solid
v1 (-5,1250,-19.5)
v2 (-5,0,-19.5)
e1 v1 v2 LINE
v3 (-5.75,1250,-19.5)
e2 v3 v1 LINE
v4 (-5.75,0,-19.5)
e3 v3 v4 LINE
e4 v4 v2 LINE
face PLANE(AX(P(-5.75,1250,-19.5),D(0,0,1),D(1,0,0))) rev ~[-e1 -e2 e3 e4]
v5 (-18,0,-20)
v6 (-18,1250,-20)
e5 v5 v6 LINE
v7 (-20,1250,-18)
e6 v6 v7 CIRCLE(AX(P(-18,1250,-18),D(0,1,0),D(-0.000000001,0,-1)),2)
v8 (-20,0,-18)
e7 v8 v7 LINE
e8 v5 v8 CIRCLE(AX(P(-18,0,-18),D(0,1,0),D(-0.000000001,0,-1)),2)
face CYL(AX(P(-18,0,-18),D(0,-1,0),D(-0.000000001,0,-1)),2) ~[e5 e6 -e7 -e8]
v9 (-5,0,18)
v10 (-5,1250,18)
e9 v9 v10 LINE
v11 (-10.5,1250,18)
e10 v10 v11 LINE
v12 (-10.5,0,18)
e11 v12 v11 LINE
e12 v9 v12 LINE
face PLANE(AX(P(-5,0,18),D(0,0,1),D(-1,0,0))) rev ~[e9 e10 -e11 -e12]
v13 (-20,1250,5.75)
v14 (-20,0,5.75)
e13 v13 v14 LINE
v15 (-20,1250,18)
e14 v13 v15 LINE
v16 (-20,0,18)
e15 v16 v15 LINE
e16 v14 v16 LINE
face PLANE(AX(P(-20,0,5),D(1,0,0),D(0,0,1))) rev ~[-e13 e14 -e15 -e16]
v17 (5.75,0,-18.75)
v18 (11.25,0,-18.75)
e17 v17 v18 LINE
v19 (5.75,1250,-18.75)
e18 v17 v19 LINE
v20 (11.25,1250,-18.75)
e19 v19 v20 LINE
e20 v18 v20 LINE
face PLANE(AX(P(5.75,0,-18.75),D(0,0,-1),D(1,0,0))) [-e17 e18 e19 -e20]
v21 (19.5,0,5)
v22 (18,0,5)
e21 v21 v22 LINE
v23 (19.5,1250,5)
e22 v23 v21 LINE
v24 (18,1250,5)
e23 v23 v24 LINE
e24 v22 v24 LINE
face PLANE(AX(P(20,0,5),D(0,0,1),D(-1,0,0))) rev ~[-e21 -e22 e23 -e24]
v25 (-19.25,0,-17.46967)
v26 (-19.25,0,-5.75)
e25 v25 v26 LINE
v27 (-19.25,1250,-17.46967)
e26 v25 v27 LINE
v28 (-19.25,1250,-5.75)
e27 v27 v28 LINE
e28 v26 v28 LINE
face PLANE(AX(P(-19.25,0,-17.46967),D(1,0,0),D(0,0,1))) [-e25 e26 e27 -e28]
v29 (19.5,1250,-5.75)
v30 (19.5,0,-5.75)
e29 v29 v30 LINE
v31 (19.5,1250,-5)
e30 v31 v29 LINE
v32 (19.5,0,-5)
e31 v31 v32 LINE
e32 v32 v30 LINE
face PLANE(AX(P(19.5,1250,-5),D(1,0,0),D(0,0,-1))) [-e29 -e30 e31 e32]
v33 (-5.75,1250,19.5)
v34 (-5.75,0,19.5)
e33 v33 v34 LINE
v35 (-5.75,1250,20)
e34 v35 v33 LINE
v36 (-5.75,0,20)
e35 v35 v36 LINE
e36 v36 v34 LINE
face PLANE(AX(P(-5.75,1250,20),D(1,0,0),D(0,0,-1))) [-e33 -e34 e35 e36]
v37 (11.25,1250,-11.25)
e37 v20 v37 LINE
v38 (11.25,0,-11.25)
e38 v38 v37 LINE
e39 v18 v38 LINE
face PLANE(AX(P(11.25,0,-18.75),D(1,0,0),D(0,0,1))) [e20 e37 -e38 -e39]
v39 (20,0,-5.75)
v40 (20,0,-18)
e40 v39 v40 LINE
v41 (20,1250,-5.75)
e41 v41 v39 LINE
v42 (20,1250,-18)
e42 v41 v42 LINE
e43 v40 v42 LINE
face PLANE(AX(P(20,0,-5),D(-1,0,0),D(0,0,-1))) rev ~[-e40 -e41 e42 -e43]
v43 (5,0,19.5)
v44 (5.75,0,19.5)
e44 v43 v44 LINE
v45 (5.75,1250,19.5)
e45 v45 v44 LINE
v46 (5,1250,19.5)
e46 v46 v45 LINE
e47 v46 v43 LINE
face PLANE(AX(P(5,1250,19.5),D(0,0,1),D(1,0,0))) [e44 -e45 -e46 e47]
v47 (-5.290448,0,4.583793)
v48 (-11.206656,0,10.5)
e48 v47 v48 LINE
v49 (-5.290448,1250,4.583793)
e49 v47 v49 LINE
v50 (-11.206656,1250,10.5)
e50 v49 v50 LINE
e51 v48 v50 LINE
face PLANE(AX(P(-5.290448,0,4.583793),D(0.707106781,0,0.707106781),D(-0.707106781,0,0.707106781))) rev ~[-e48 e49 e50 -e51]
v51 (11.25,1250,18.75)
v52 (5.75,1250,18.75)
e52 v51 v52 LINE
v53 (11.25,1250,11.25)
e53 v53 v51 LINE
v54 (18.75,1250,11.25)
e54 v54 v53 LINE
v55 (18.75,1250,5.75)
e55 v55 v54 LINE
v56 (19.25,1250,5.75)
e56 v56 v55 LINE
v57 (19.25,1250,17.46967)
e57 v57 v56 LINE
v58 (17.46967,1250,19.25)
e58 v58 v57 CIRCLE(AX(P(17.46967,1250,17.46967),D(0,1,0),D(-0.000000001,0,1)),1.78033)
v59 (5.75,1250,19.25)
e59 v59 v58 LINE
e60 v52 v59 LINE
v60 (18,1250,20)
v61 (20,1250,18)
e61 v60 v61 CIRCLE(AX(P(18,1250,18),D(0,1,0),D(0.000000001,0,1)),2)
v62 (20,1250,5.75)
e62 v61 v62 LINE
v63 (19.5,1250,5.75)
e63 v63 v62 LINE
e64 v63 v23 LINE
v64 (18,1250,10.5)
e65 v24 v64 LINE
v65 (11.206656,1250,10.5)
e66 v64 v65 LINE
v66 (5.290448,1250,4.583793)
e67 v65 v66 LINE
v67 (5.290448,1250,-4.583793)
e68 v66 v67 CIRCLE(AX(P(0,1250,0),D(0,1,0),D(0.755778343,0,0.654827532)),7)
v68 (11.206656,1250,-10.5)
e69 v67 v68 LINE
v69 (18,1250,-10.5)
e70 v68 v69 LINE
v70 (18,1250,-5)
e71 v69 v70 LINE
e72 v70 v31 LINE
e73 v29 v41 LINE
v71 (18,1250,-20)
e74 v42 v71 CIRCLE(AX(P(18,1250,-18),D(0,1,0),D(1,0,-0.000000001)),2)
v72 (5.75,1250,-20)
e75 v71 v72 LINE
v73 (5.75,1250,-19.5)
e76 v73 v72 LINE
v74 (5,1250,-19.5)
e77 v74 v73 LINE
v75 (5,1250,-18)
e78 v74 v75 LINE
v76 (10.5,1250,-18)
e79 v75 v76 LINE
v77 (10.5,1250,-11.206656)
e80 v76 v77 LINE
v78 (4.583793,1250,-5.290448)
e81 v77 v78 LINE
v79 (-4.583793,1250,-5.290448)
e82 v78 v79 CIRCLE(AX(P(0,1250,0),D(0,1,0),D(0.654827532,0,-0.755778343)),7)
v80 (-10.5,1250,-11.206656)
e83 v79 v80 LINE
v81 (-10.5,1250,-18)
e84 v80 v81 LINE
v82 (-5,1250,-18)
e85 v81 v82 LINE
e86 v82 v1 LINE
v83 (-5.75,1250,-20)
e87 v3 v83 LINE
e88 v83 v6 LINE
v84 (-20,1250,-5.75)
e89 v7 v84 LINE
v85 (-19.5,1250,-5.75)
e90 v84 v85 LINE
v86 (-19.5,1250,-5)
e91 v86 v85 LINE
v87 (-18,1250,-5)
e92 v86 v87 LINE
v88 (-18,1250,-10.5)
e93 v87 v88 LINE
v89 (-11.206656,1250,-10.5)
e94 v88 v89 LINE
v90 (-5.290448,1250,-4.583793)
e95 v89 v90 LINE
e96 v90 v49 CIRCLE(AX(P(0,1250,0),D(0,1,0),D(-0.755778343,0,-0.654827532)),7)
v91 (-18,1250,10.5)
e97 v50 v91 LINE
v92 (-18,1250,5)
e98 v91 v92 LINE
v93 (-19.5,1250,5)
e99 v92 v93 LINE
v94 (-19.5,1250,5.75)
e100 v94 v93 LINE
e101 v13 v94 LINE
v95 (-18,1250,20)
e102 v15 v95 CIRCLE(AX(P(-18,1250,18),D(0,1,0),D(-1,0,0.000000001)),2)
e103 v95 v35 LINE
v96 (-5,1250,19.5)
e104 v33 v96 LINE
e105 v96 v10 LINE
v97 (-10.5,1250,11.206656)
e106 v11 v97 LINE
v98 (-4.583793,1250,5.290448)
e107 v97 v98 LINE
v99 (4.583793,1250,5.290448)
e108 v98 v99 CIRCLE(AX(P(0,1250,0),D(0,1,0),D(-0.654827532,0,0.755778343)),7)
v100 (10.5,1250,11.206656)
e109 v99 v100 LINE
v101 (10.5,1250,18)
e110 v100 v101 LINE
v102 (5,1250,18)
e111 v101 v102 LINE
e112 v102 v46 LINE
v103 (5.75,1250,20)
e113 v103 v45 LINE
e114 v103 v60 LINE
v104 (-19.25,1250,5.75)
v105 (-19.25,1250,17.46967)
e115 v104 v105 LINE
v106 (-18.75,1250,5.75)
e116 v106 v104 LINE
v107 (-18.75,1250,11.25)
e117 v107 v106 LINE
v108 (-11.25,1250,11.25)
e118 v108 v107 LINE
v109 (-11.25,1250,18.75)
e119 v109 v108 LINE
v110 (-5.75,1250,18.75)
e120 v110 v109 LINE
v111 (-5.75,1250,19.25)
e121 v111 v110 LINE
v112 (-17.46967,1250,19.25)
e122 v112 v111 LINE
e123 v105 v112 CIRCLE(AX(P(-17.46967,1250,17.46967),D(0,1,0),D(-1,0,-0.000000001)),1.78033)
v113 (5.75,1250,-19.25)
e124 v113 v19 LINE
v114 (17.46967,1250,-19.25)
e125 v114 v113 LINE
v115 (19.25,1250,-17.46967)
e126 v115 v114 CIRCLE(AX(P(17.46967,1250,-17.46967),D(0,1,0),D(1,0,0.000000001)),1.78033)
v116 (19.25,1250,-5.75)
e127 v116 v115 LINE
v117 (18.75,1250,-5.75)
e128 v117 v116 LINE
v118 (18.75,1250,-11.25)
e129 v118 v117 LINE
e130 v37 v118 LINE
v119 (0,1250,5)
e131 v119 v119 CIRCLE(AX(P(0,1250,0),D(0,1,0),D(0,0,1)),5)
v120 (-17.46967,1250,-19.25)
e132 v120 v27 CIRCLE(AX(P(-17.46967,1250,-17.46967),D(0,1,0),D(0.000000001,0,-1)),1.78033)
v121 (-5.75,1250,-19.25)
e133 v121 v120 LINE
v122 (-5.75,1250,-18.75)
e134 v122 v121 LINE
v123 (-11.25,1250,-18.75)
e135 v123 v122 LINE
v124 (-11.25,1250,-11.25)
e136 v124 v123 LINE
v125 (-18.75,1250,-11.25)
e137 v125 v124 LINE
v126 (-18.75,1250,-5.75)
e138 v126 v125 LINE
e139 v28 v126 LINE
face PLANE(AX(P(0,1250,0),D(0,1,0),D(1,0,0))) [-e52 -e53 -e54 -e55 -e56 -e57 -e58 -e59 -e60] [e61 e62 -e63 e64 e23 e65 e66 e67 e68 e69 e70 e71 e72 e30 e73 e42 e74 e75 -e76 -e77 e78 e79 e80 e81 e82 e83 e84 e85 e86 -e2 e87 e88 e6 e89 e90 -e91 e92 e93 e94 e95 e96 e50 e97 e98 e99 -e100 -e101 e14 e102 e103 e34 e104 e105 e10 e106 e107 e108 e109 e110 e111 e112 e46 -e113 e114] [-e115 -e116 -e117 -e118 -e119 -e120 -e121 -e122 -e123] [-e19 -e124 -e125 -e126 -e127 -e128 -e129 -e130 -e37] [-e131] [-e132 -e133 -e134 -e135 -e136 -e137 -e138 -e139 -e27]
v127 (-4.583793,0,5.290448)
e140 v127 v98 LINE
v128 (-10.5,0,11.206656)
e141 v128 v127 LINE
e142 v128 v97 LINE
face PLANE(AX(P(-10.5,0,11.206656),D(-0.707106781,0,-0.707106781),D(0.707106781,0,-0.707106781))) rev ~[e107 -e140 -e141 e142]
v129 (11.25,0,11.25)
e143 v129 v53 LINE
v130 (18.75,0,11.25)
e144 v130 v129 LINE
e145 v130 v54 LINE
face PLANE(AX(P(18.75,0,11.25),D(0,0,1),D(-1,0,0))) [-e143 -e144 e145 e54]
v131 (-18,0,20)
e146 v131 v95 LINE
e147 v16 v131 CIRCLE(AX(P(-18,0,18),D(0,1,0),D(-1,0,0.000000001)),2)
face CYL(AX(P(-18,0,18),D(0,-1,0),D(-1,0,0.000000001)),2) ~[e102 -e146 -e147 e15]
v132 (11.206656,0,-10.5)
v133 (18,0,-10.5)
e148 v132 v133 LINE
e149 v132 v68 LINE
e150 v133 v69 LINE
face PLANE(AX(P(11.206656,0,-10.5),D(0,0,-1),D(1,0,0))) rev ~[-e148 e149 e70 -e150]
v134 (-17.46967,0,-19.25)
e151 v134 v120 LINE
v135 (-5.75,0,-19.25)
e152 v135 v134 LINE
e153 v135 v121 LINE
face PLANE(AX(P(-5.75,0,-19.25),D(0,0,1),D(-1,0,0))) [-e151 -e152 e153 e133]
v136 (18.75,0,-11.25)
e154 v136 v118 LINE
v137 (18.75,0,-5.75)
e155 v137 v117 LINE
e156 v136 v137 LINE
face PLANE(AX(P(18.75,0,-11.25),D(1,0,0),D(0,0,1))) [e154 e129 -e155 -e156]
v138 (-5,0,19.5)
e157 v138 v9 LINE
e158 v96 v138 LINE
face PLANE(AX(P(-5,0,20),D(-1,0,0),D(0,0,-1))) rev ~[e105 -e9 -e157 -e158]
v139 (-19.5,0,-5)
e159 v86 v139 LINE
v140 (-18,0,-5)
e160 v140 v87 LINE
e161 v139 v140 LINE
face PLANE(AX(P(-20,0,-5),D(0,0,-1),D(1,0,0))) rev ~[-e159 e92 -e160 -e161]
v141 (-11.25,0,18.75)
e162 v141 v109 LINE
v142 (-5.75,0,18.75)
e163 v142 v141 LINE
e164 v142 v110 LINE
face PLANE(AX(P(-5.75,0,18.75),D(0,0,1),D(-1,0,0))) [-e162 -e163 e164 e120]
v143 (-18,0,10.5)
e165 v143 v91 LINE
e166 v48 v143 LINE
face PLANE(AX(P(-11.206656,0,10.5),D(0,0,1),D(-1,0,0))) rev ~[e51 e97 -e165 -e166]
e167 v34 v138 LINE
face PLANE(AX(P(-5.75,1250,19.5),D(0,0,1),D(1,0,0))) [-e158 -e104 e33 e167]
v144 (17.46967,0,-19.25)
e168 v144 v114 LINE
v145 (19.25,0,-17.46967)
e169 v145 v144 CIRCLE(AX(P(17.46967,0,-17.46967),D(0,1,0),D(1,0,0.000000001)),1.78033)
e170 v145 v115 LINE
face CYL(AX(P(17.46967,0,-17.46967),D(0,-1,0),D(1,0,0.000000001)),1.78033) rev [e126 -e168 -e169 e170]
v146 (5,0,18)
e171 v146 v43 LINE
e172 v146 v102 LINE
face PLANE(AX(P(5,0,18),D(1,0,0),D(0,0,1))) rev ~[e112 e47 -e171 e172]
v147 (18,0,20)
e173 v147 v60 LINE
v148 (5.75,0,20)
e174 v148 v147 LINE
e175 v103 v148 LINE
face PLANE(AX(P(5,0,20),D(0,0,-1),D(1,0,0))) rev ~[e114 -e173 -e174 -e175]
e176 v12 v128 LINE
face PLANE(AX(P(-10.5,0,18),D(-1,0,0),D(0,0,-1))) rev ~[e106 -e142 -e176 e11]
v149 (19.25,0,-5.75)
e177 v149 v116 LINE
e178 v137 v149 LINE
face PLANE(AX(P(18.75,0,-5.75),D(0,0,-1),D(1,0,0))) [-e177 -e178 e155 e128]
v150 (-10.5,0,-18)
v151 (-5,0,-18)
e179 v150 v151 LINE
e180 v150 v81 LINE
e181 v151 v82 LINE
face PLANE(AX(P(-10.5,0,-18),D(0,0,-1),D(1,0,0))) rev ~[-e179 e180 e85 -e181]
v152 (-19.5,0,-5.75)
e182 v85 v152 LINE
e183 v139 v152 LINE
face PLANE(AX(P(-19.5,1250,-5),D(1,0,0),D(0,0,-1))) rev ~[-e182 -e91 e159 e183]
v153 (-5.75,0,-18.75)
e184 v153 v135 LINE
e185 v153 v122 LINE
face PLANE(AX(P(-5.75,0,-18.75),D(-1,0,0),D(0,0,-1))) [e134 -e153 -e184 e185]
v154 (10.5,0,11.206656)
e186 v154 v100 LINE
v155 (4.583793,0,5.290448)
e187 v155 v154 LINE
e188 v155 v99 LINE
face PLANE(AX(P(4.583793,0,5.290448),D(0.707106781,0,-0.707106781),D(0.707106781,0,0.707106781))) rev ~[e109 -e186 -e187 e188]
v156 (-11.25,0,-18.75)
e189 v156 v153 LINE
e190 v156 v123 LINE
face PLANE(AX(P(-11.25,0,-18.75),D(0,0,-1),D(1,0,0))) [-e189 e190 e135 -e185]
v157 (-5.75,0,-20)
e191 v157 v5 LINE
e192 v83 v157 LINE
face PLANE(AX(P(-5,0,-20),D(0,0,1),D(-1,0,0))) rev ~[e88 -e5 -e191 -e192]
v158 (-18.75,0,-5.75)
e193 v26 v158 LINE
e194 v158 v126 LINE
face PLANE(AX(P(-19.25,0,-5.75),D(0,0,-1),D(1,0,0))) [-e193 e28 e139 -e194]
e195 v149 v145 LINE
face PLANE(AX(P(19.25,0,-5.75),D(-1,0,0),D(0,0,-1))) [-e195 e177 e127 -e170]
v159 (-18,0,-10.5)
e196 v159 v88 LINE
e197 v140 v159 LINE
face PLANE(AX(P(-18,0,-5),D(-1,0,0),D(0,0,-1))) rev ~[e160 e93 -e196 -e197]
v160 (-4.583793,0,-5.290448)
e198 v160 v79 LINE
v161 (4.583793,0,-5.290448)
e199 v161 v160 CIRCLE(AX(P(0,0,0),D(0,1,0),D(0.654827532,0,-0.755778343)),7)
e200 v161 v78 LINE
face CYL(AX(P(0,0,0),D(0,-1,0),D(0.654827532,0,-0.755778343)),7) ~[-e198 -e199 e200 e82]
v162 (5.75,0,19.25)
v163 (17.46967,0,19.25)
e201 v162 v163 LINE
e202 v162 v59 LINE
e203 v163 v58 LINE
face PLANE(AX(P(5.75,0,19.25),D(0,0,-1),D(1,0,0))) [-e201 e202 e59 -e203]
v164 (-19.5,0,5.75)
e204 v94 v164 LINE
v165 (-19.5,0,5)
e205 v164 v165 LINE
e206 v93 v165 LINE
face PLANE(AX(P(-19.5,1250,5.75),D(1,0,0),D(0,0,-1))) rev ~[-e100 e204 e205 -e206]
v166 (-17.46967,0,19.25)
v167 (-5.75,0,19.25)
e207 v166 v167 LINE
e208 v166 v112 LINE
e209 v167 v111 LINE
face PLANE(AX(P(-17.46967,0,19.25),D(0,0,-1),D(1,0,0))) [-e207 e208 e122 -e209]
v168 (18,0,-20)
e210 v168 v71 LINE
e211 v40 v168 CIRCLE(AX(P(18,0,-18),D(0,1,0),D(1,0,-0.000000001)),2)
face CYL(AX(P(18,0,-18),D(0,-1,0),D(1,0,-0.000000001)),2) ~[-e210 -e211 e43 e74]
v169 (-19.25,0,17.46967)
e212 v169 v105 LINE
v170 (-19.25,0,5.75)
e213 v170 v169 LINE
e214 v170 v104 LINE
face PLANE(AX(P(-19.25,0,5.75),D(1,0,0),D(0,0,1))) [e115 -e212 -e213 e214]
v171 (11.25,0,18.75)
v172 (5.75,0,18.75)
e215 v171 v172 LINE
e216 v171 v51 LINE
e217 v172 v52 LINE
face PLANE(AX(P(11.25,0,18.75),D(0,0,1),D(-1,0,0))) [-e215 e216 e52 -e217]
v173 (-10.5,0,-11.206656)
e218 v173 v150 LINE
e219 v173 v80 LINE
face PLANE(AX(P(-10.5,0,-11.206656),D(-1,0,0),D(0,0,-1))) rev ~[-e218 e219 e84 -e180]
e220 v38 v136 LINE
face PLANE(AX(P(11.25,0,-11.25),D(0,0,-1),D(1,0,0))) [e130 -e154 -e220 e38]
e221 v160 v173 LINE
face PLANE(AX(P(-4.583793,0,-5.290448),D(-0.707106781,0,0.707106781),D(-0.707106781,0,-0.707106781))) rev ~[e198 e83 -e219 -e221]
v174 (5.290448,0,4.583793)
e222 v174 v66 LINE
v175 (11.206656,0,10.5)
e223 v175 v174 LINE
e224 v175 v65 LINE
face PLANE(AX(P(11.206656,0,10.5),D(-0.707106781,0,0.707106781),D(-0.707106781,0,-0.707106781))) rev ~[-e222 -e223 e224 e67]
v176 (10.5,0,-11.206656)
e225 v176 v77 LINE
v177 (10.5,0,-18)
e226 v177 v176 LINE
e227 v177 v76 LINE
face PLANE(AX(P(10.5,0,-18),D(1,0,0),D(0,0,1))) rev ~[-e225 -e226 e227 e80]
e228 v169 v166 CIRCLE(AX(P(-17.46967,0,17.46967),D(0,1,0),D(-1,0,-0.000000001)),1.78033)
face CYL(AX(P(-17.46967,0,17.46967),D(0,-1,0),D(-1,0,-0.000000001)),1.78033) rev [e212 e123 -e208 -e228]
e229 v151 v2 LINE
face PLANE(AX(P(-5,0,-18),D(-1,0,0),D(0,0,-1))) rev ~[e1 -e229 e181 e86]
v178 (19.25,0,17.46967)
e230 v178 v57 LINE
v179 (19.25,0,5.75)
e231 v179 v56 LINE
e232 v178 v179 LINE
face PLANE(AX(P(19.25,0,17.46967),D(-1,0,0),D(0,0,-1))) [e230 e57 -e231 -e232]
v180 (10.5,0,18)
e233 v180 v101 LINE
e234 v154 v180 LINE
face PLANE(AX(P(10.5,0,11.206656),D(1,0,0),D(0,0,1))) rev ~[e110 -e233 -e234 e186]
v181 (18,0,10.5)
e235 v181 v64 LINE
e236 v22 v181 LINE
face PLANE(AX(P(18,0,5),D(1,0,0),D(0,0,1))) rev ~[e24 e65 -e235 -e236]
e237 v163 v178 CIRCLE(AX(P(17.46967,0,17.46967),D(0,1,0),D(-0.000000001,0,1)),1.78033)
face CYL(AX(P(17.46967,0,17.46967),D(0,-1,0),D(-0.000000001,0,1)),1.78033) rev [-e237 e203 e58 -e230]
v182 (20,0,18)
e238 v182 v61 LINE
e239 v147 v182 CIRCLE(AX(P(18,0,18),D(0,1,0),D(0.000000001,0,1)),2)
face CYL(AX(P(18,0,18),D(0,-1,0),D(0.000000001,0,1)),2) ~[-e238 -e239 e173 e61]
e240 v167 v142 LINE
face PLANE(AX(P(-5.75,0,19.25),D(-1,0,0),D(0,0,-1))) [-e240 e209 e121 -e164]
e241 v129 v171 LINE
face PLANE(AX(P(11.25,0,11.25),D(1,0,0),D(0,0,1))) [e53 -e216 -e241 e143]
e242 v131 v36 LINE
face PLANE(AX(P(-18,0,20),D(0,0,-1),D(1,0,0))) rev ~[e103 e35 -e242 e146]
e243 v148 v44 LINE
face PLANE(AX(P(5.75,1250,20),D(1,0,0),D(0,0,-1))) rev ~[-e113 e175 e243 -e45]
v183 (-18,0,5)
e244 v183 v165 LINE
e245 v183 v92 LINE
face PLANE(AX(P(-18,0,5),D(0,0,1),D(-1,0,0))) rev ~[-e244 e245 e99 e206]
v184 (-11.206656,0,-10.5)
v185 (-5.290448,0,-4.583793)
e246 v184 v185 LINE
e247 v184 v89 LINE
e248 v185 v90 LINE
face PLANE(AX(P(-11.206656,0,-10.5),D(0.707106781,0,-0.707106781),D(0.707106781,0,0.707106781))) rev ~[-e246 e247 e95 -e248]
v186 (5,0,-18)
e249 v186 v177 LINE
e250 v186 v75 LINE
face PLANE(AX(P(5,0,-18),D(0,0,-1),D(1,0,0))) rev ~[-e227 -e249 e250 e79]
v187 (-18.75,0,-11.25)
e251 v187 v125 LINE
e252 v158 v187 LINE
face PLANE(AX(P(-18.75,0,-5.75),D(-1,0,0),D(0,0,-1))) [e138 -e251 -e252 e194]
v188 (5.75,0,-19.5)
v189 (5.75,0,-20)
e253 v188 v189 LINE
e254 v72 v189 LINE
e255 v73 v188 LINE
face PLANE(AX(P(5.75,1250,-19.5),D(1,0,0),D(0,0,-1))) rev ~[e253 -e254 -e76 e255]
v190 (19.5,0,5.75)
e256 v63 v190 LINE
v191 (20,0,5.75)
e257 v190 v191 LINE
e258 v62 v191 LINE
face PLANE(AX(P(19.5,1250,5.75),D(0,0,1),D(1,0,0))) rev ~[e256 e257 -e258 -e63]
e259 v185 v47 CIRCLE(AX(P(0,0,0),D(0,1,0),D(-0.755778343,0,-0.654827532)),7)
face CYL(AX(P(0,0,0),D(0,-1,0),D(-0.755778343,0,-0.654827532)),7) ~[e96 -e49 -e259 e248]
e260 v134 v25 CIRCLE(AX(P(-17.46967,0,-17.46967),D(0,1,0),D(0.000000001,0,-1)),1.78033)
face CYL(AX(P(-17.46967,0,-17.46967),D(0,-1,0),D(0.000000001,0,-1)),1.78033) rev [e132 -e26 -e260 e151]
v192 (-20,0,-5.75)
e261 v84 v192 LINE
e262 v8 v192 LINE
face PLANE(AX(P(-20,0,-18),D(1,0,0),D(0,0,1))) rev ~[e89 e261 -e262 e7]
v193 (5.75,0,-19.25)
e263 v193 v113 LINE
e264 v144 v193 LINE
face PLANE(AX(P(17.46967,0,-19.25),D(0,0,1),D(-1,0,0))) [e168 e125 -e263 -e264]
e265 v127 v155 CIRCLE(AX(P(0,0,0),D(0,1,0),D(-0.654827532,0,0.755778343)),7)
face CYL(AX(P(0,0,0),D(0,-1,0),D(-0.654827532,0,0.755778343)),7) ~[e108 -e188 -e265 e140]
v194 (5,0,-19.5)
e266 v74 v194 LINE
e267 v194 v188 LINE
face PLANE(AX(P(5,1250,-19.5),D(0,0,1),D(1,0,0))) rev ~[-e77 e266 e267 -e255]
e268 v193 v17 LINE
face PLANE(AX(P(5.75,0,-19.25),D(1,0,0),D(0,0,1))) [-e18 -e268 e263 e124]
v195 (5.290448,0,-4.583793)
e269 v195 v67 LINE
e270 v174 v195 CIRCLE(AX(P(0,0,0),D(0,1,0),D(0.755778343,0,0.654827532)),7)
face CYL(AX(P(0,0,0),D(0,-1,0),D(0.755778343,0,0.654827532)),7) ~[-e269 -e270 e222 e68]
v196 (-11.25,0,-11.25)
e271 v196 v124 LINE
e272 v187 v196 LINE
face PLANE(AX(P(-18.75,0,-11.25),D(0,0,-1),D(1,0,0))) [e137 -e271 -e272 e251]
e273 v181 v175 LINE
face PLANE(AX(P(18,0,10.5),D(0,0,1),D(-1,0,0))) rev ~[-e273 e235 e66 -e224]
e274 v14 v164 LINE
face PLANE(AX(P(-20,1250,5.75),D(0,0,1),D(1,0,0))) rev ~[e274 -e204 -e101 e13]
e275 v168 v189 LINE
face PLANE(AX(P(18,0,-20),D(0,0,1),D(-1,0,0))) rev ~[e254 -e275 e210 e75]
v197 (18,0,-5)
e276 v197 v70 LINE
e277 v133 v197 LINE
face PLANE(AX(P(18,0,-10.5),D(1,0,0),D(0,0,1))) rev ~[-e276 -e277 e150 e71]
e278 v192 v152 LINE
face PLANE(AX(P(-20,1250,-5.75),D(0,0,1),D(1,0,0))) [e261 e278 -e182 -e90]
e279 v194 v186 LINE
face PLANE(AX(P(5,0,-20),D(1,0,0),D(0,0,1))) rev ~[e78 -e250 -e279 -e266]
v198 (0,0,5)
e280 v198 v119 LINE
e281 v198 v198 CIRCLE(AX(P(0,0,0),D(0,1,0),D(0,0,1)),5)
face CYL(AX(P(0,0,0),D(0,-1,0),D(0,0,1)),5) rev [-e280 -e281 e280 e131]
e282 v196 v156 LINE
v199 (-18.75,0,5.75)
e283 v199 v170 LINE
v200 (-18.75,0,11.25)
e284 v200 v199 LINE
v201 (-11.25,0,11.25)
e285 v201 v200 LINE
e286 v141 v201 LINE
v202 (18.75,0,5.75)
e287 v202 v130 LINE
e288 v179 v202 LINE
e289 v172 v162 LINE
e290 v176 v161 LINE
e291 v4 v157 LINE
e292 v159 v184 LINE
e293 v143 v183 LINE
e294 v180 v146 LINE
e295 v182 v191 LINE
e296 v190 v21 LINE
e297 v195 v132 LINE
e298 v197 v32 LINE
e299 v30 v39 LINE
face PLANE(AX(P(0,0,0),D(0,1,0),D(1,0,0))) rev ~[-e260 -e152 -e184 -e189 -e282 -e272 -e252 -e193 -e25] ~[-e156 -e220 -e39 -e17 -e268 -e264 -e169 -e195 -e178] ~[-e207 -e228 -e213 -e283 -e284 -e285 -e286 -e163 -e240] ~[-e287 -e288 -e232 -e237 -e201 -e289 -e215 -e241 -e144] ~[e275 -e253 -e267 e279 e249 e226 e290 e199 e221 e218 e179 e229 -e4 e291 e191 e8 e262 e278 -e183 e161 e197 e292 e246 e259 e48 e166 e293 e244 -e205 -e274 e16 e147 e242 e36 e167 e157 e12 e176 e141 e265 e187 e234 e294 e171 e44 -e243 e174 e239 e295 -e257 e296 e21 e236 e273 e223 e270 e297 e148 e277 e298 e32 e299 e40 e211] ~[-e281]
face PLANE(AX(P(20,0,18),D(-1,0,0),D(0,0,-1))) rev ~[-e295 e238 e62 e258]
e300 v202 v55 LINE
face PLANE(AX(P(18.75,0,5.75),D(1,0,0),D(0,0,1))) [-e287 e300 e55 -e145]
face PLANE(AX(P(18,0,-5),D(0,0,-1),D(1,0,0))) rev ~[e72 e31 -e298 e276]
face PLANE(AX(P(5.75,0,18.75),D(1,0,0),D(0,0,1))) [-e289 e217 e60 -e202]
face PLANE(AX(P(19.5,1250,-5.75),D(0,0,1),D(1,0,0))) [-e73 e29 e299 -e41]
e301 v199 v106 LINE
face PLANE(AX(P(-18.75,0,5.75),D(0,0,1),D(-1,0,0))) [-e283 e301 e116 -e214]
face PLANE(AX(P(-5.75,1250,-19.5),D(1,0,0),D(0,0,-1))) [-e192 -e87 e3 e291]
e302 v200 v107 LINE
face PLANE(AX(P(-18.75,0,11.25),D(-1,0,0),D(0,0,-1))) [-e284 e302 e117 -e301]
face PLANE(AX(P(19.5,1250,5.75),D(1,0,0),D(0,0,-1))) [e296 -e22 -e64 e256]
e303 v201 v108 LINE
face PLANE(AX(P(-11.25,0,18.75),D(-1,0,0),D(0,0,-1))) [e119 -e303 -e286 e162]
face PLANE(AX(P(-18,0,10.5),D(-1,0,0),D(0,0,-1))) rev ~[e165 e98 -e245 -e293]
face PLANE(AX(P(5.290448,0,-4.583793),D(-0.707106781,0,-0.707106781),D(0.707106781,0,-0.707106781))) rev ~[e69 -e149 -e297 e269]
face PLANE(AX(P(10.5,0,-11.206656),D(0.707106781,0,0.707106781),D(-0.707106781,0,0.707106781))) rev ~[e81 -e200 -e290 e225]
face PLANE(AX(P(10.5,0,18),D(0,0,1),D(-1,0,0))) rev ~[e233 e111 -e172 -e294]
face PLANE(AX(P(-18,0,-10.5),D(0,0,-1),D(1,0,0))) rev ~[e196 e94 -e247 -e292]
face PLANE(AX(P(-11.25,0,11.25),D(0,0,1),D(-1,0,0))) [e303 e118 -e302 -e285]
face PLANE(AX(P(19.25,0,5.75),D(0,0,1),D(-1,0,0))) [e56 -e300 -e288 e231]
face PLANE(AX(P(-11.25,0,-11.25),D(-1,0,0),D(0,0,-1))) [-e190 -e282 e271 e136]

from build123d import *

# Parameters (mm, degrees)
ESBO_O1_R                = 5
RESSALTO_EXTRUS_O1_DEPTH = 1250
ESBO_O4_W                = 0.75
ESBO_O4_H                = 0.5
ESBO_O4_W_2              = 0.5
ESBO_O4_H_2              = 0.75
CORTE_EXTRUS_O1_DEPTH    = 1250


with BuildPart() as part:
    # Esboço1 → Ressalto-extrusão1 (new body)
    with BuildSketch(Plane(origin=(0, 0, 0), x_dir=(1, 0, 0), z_dir=(0, 1, 0))):
        with BuildLine():
            Line((-18, -20), (-5, -20))
            Line((-5, -20), (-5, -18))
            Line((-5, -18), (-10.5, -18))
            Line((-10.5, -18), (-10.5, -11.206655676))
            Line((-10.5, -11.206655676), (-4.583792723, -5.2904484))
            ThreePointArc((-4.583792723, -5.2904484), (0, -7), (4.583792723, -5.2904484))
            Line((4.583792723, -5.2904484), (10.5, -11.206655676))
            Line((10.5, -11.206655676), (10.5, -18))
            Line((10.5, -18), (5, -18))
            Line((5, -18), (5, -20))
            Line((5, -20), (18, -20))
            ThreePointArc((18, -20), (19.414213562, -19.414213562), (20, -18))
            Line((20, -18), (20, -5))
            Line((20, -5), (18, -5))
            Line((18, -5), (18, -10.5))
            Line((18, -10.5), (11.206655676, -10.5))
            Line((11.206655676, -10.5), (5.2904484, -4.583792723))
            ThreePointArc((5.2904484, -4.583792723), (7, 0), (5.2904484, 4.583792723))
            Line((5.2904484, 4.583792723), (11.206655676, 10.5))
            Line((11.206655676, 10.5), (18, 10.5))
            Line((18, 10.5), (18, 5))
            Line((18, 5), (20, 5))
            Line((20, 5), (20, 18))
            ThreePointArc((20, 18), (19.414213562, 19.414213562), (18, 20))
            Line((18, 20), (5, 20))
            Line((5, 20), (5, 18))
            Line((5, 18), (10.5, 18))
            Line((10.5, 18), (10.5, 11.206655676))
            Line((10.5, 11.206655676), (4.583792723, 5.2904484))
            ThreePointArc((4.583792723, 5.2904484), (0, 7), (-4.583792723, 5.2904484))
            Line((-4.583792723, 5.2904484), (-10.5, 11.206655676))
            Line((-10.5, 11.206655676), (-10.5, 18))
            Line((-10.5, 18), (-5, 18))
            Line((-5, 18), (-5, 20))
            Line((-5, 20), (-18, 20))
            ThreePointArc((-18, 20), (-19.414213562, 19.414213562), (-20, 18))
            Line((-20, 18), (-20, 5))
            Line((-20, 5), (-18, 5))
            Line((-18, 5), (-18, 10.5))
            Line((-18, 10.5), (-11.206655676, 10.5))
            Line((-11.206655676, 10.5), (-5.2904484, 4.583792723))
            ThreePointArc((-5.2904484, 4.583792723), (-7, 0), (-5.2904484, -4.583792723))
            Line((-5.2904484, -4.583792723), (-11.206655676, -10.5))
            Line((-11.206655676, -10.5), (-18, -10.5))
            Line((-18, -10.5), (-18, -5))
            Line((-18, -5), (-20, -5))
            Line((-20, -5), (-20, -18))
            ThreePointArc((-20, -18), (-19.414213562, -19.414213562), (-18, -20))
        make_face()
        with Locations(Location((0, 0, 0), (0, 0, 270))):
            Circle(ESBO_O1_R, mode=Mode.SUBTRACT)
        with BuildLine():
            Line((-19.25, 5.75), (-18.75, 5.75))
            Line((-18.75, 5.75), (-18.75, 11.25))
            Line((-18.75, 11.25), (-11.25, 11.25))
            Line((-11.25, 11.25), (-11.25, 18.75))
            Line((-11.25, 18.75), (-5.75, 18.75))
            Line((-5.75, 18.75), (-5.75, 19.25))
            Line((-5.75, 19.25), (-17.469669914, 19.25))
            ThreePointArc((-17.469669914, 19.25), (-18.728553391, 18.728553391), (-19.25, 17.469669914))
            Line((-19.25, 17.469669914), (-19.25, 5.75))
        make_face(mode=Mode.SUBTRACT)
        with BuildLine():
            Line((19.25, 5.75), (19.25, 17.469669914))
            ThreePointArc((19.25, 17.469669914), (18.728553391, 18.728553391), (17.469669914, 19.25))
            Line((17.469669914, 19.25), (5.75, 19.25))
            Line((5.75, 19.25), (5.75, 18.75))
            Line((5.75, 18.75), (11.25, 18.75))
            Line((11.25, 18.75), (11.25, 11.25))
            Line((11.25, 11.25), (18.75, 11.25))
            Line((18.75, 11.25), (18.75, 5.75))
            Line((18.75, 5.75), (19.25, 5.75))
        make_face(mode=Mode.SUBTRACT)
        with BuildLine():
            Line((19.25, -5.75), (18.75, -5.75))
            Line((18.75, -5.75), (18.75, -11.25))
            Line((18.75, -11.25), (11.25, -11.25))
            Line((11.25, -11.25), (11.25, -18.75))
            Line((11.25, -18.75), (5.75, -18.75))
            Line((5.75, -18.75), (5.75, -19.25))
            Line((5.75, -19.25), (17.469669914, -19.25))
            ThreePointArc((17.469669914, -19.25), (18.728553391, -18.728553391), (19.25, -17.469669914))
            Line((19.25, -17.469669914), (19.25, -5.75))
        make_face(mode=Mode.SUBTRACT)
        with BuildLine():
            Line((-19.25, -5.75), (-19.25, -17.469669914))
            ThreePointArc((-19.25, -17.469669914), (-18.728553391, -18.728553391), (-17.469669914, -19.25))
            Line((-17.469669914, -19.25), (-5.75, -19.25))
            Line((-5.75, -19.25), (-5.75, -18.75))
            Line((-5.75, -18.75), (-11.25, -18.75))
            Line((-11.25, -18.75), (-11.25, -11.25))
            Line((-11.25, -11.25), (-18.75, -11.25))
            Line((-18.75, -11.25), (-18.75, -5.75))
            Line((-18.75, -5.75), (-19.25, -5.75))
        make_face(mode=Mode.SUBTRACT)
    extrude(amount=RESSALTO_EXTRUS_O1_DEPTH)

    # Esboço4 → Corte-extrusão1 (cut)
    with BuildSketch(Plane(origin=(0, 1250, 0), x_dir=(1, 0, 0), z_dir=(0, 1, 0))):
        with Locations((-5.375, 19.75)):
            Rectangle(ESBO_O4_W, ESBO_O4_H)
        with Locations((19.75, 5.375)):
            Rectangle(ESBO_O4_W_2, ESBO_O4_H_2)
        with Locations((-19.75, 5.375)):
            Rectangle(ESBO_O4_W_2, ESBO_O4_H_2)
        with Locations((5.375, 19.75)):
            Rectangle(ESBO_O4_W, ESBO_O4_H)
        with Locations((5.375, -19.75)):
            Rectangle(ESBO_O4_W, ESBO_O4_H)
        with Locations((19.75, -5.375)):
            Rectangle(ESBO_O4_W_2, ESBO_O4_H_2)
        with Locations((-19.75, -5.375)):
            Rectangle(ESBO_O4_W_2, ESBO_O4_H_2)
        with Locations((-5.375, -19.75)):
            Rectangle(ESBO_O4_W, ESBO_O4_H)
    extrude(amount=-CORTE_EXTRUS_O1_DEPTH, mode=Mode.SUBTRACT)


solid = part.part
